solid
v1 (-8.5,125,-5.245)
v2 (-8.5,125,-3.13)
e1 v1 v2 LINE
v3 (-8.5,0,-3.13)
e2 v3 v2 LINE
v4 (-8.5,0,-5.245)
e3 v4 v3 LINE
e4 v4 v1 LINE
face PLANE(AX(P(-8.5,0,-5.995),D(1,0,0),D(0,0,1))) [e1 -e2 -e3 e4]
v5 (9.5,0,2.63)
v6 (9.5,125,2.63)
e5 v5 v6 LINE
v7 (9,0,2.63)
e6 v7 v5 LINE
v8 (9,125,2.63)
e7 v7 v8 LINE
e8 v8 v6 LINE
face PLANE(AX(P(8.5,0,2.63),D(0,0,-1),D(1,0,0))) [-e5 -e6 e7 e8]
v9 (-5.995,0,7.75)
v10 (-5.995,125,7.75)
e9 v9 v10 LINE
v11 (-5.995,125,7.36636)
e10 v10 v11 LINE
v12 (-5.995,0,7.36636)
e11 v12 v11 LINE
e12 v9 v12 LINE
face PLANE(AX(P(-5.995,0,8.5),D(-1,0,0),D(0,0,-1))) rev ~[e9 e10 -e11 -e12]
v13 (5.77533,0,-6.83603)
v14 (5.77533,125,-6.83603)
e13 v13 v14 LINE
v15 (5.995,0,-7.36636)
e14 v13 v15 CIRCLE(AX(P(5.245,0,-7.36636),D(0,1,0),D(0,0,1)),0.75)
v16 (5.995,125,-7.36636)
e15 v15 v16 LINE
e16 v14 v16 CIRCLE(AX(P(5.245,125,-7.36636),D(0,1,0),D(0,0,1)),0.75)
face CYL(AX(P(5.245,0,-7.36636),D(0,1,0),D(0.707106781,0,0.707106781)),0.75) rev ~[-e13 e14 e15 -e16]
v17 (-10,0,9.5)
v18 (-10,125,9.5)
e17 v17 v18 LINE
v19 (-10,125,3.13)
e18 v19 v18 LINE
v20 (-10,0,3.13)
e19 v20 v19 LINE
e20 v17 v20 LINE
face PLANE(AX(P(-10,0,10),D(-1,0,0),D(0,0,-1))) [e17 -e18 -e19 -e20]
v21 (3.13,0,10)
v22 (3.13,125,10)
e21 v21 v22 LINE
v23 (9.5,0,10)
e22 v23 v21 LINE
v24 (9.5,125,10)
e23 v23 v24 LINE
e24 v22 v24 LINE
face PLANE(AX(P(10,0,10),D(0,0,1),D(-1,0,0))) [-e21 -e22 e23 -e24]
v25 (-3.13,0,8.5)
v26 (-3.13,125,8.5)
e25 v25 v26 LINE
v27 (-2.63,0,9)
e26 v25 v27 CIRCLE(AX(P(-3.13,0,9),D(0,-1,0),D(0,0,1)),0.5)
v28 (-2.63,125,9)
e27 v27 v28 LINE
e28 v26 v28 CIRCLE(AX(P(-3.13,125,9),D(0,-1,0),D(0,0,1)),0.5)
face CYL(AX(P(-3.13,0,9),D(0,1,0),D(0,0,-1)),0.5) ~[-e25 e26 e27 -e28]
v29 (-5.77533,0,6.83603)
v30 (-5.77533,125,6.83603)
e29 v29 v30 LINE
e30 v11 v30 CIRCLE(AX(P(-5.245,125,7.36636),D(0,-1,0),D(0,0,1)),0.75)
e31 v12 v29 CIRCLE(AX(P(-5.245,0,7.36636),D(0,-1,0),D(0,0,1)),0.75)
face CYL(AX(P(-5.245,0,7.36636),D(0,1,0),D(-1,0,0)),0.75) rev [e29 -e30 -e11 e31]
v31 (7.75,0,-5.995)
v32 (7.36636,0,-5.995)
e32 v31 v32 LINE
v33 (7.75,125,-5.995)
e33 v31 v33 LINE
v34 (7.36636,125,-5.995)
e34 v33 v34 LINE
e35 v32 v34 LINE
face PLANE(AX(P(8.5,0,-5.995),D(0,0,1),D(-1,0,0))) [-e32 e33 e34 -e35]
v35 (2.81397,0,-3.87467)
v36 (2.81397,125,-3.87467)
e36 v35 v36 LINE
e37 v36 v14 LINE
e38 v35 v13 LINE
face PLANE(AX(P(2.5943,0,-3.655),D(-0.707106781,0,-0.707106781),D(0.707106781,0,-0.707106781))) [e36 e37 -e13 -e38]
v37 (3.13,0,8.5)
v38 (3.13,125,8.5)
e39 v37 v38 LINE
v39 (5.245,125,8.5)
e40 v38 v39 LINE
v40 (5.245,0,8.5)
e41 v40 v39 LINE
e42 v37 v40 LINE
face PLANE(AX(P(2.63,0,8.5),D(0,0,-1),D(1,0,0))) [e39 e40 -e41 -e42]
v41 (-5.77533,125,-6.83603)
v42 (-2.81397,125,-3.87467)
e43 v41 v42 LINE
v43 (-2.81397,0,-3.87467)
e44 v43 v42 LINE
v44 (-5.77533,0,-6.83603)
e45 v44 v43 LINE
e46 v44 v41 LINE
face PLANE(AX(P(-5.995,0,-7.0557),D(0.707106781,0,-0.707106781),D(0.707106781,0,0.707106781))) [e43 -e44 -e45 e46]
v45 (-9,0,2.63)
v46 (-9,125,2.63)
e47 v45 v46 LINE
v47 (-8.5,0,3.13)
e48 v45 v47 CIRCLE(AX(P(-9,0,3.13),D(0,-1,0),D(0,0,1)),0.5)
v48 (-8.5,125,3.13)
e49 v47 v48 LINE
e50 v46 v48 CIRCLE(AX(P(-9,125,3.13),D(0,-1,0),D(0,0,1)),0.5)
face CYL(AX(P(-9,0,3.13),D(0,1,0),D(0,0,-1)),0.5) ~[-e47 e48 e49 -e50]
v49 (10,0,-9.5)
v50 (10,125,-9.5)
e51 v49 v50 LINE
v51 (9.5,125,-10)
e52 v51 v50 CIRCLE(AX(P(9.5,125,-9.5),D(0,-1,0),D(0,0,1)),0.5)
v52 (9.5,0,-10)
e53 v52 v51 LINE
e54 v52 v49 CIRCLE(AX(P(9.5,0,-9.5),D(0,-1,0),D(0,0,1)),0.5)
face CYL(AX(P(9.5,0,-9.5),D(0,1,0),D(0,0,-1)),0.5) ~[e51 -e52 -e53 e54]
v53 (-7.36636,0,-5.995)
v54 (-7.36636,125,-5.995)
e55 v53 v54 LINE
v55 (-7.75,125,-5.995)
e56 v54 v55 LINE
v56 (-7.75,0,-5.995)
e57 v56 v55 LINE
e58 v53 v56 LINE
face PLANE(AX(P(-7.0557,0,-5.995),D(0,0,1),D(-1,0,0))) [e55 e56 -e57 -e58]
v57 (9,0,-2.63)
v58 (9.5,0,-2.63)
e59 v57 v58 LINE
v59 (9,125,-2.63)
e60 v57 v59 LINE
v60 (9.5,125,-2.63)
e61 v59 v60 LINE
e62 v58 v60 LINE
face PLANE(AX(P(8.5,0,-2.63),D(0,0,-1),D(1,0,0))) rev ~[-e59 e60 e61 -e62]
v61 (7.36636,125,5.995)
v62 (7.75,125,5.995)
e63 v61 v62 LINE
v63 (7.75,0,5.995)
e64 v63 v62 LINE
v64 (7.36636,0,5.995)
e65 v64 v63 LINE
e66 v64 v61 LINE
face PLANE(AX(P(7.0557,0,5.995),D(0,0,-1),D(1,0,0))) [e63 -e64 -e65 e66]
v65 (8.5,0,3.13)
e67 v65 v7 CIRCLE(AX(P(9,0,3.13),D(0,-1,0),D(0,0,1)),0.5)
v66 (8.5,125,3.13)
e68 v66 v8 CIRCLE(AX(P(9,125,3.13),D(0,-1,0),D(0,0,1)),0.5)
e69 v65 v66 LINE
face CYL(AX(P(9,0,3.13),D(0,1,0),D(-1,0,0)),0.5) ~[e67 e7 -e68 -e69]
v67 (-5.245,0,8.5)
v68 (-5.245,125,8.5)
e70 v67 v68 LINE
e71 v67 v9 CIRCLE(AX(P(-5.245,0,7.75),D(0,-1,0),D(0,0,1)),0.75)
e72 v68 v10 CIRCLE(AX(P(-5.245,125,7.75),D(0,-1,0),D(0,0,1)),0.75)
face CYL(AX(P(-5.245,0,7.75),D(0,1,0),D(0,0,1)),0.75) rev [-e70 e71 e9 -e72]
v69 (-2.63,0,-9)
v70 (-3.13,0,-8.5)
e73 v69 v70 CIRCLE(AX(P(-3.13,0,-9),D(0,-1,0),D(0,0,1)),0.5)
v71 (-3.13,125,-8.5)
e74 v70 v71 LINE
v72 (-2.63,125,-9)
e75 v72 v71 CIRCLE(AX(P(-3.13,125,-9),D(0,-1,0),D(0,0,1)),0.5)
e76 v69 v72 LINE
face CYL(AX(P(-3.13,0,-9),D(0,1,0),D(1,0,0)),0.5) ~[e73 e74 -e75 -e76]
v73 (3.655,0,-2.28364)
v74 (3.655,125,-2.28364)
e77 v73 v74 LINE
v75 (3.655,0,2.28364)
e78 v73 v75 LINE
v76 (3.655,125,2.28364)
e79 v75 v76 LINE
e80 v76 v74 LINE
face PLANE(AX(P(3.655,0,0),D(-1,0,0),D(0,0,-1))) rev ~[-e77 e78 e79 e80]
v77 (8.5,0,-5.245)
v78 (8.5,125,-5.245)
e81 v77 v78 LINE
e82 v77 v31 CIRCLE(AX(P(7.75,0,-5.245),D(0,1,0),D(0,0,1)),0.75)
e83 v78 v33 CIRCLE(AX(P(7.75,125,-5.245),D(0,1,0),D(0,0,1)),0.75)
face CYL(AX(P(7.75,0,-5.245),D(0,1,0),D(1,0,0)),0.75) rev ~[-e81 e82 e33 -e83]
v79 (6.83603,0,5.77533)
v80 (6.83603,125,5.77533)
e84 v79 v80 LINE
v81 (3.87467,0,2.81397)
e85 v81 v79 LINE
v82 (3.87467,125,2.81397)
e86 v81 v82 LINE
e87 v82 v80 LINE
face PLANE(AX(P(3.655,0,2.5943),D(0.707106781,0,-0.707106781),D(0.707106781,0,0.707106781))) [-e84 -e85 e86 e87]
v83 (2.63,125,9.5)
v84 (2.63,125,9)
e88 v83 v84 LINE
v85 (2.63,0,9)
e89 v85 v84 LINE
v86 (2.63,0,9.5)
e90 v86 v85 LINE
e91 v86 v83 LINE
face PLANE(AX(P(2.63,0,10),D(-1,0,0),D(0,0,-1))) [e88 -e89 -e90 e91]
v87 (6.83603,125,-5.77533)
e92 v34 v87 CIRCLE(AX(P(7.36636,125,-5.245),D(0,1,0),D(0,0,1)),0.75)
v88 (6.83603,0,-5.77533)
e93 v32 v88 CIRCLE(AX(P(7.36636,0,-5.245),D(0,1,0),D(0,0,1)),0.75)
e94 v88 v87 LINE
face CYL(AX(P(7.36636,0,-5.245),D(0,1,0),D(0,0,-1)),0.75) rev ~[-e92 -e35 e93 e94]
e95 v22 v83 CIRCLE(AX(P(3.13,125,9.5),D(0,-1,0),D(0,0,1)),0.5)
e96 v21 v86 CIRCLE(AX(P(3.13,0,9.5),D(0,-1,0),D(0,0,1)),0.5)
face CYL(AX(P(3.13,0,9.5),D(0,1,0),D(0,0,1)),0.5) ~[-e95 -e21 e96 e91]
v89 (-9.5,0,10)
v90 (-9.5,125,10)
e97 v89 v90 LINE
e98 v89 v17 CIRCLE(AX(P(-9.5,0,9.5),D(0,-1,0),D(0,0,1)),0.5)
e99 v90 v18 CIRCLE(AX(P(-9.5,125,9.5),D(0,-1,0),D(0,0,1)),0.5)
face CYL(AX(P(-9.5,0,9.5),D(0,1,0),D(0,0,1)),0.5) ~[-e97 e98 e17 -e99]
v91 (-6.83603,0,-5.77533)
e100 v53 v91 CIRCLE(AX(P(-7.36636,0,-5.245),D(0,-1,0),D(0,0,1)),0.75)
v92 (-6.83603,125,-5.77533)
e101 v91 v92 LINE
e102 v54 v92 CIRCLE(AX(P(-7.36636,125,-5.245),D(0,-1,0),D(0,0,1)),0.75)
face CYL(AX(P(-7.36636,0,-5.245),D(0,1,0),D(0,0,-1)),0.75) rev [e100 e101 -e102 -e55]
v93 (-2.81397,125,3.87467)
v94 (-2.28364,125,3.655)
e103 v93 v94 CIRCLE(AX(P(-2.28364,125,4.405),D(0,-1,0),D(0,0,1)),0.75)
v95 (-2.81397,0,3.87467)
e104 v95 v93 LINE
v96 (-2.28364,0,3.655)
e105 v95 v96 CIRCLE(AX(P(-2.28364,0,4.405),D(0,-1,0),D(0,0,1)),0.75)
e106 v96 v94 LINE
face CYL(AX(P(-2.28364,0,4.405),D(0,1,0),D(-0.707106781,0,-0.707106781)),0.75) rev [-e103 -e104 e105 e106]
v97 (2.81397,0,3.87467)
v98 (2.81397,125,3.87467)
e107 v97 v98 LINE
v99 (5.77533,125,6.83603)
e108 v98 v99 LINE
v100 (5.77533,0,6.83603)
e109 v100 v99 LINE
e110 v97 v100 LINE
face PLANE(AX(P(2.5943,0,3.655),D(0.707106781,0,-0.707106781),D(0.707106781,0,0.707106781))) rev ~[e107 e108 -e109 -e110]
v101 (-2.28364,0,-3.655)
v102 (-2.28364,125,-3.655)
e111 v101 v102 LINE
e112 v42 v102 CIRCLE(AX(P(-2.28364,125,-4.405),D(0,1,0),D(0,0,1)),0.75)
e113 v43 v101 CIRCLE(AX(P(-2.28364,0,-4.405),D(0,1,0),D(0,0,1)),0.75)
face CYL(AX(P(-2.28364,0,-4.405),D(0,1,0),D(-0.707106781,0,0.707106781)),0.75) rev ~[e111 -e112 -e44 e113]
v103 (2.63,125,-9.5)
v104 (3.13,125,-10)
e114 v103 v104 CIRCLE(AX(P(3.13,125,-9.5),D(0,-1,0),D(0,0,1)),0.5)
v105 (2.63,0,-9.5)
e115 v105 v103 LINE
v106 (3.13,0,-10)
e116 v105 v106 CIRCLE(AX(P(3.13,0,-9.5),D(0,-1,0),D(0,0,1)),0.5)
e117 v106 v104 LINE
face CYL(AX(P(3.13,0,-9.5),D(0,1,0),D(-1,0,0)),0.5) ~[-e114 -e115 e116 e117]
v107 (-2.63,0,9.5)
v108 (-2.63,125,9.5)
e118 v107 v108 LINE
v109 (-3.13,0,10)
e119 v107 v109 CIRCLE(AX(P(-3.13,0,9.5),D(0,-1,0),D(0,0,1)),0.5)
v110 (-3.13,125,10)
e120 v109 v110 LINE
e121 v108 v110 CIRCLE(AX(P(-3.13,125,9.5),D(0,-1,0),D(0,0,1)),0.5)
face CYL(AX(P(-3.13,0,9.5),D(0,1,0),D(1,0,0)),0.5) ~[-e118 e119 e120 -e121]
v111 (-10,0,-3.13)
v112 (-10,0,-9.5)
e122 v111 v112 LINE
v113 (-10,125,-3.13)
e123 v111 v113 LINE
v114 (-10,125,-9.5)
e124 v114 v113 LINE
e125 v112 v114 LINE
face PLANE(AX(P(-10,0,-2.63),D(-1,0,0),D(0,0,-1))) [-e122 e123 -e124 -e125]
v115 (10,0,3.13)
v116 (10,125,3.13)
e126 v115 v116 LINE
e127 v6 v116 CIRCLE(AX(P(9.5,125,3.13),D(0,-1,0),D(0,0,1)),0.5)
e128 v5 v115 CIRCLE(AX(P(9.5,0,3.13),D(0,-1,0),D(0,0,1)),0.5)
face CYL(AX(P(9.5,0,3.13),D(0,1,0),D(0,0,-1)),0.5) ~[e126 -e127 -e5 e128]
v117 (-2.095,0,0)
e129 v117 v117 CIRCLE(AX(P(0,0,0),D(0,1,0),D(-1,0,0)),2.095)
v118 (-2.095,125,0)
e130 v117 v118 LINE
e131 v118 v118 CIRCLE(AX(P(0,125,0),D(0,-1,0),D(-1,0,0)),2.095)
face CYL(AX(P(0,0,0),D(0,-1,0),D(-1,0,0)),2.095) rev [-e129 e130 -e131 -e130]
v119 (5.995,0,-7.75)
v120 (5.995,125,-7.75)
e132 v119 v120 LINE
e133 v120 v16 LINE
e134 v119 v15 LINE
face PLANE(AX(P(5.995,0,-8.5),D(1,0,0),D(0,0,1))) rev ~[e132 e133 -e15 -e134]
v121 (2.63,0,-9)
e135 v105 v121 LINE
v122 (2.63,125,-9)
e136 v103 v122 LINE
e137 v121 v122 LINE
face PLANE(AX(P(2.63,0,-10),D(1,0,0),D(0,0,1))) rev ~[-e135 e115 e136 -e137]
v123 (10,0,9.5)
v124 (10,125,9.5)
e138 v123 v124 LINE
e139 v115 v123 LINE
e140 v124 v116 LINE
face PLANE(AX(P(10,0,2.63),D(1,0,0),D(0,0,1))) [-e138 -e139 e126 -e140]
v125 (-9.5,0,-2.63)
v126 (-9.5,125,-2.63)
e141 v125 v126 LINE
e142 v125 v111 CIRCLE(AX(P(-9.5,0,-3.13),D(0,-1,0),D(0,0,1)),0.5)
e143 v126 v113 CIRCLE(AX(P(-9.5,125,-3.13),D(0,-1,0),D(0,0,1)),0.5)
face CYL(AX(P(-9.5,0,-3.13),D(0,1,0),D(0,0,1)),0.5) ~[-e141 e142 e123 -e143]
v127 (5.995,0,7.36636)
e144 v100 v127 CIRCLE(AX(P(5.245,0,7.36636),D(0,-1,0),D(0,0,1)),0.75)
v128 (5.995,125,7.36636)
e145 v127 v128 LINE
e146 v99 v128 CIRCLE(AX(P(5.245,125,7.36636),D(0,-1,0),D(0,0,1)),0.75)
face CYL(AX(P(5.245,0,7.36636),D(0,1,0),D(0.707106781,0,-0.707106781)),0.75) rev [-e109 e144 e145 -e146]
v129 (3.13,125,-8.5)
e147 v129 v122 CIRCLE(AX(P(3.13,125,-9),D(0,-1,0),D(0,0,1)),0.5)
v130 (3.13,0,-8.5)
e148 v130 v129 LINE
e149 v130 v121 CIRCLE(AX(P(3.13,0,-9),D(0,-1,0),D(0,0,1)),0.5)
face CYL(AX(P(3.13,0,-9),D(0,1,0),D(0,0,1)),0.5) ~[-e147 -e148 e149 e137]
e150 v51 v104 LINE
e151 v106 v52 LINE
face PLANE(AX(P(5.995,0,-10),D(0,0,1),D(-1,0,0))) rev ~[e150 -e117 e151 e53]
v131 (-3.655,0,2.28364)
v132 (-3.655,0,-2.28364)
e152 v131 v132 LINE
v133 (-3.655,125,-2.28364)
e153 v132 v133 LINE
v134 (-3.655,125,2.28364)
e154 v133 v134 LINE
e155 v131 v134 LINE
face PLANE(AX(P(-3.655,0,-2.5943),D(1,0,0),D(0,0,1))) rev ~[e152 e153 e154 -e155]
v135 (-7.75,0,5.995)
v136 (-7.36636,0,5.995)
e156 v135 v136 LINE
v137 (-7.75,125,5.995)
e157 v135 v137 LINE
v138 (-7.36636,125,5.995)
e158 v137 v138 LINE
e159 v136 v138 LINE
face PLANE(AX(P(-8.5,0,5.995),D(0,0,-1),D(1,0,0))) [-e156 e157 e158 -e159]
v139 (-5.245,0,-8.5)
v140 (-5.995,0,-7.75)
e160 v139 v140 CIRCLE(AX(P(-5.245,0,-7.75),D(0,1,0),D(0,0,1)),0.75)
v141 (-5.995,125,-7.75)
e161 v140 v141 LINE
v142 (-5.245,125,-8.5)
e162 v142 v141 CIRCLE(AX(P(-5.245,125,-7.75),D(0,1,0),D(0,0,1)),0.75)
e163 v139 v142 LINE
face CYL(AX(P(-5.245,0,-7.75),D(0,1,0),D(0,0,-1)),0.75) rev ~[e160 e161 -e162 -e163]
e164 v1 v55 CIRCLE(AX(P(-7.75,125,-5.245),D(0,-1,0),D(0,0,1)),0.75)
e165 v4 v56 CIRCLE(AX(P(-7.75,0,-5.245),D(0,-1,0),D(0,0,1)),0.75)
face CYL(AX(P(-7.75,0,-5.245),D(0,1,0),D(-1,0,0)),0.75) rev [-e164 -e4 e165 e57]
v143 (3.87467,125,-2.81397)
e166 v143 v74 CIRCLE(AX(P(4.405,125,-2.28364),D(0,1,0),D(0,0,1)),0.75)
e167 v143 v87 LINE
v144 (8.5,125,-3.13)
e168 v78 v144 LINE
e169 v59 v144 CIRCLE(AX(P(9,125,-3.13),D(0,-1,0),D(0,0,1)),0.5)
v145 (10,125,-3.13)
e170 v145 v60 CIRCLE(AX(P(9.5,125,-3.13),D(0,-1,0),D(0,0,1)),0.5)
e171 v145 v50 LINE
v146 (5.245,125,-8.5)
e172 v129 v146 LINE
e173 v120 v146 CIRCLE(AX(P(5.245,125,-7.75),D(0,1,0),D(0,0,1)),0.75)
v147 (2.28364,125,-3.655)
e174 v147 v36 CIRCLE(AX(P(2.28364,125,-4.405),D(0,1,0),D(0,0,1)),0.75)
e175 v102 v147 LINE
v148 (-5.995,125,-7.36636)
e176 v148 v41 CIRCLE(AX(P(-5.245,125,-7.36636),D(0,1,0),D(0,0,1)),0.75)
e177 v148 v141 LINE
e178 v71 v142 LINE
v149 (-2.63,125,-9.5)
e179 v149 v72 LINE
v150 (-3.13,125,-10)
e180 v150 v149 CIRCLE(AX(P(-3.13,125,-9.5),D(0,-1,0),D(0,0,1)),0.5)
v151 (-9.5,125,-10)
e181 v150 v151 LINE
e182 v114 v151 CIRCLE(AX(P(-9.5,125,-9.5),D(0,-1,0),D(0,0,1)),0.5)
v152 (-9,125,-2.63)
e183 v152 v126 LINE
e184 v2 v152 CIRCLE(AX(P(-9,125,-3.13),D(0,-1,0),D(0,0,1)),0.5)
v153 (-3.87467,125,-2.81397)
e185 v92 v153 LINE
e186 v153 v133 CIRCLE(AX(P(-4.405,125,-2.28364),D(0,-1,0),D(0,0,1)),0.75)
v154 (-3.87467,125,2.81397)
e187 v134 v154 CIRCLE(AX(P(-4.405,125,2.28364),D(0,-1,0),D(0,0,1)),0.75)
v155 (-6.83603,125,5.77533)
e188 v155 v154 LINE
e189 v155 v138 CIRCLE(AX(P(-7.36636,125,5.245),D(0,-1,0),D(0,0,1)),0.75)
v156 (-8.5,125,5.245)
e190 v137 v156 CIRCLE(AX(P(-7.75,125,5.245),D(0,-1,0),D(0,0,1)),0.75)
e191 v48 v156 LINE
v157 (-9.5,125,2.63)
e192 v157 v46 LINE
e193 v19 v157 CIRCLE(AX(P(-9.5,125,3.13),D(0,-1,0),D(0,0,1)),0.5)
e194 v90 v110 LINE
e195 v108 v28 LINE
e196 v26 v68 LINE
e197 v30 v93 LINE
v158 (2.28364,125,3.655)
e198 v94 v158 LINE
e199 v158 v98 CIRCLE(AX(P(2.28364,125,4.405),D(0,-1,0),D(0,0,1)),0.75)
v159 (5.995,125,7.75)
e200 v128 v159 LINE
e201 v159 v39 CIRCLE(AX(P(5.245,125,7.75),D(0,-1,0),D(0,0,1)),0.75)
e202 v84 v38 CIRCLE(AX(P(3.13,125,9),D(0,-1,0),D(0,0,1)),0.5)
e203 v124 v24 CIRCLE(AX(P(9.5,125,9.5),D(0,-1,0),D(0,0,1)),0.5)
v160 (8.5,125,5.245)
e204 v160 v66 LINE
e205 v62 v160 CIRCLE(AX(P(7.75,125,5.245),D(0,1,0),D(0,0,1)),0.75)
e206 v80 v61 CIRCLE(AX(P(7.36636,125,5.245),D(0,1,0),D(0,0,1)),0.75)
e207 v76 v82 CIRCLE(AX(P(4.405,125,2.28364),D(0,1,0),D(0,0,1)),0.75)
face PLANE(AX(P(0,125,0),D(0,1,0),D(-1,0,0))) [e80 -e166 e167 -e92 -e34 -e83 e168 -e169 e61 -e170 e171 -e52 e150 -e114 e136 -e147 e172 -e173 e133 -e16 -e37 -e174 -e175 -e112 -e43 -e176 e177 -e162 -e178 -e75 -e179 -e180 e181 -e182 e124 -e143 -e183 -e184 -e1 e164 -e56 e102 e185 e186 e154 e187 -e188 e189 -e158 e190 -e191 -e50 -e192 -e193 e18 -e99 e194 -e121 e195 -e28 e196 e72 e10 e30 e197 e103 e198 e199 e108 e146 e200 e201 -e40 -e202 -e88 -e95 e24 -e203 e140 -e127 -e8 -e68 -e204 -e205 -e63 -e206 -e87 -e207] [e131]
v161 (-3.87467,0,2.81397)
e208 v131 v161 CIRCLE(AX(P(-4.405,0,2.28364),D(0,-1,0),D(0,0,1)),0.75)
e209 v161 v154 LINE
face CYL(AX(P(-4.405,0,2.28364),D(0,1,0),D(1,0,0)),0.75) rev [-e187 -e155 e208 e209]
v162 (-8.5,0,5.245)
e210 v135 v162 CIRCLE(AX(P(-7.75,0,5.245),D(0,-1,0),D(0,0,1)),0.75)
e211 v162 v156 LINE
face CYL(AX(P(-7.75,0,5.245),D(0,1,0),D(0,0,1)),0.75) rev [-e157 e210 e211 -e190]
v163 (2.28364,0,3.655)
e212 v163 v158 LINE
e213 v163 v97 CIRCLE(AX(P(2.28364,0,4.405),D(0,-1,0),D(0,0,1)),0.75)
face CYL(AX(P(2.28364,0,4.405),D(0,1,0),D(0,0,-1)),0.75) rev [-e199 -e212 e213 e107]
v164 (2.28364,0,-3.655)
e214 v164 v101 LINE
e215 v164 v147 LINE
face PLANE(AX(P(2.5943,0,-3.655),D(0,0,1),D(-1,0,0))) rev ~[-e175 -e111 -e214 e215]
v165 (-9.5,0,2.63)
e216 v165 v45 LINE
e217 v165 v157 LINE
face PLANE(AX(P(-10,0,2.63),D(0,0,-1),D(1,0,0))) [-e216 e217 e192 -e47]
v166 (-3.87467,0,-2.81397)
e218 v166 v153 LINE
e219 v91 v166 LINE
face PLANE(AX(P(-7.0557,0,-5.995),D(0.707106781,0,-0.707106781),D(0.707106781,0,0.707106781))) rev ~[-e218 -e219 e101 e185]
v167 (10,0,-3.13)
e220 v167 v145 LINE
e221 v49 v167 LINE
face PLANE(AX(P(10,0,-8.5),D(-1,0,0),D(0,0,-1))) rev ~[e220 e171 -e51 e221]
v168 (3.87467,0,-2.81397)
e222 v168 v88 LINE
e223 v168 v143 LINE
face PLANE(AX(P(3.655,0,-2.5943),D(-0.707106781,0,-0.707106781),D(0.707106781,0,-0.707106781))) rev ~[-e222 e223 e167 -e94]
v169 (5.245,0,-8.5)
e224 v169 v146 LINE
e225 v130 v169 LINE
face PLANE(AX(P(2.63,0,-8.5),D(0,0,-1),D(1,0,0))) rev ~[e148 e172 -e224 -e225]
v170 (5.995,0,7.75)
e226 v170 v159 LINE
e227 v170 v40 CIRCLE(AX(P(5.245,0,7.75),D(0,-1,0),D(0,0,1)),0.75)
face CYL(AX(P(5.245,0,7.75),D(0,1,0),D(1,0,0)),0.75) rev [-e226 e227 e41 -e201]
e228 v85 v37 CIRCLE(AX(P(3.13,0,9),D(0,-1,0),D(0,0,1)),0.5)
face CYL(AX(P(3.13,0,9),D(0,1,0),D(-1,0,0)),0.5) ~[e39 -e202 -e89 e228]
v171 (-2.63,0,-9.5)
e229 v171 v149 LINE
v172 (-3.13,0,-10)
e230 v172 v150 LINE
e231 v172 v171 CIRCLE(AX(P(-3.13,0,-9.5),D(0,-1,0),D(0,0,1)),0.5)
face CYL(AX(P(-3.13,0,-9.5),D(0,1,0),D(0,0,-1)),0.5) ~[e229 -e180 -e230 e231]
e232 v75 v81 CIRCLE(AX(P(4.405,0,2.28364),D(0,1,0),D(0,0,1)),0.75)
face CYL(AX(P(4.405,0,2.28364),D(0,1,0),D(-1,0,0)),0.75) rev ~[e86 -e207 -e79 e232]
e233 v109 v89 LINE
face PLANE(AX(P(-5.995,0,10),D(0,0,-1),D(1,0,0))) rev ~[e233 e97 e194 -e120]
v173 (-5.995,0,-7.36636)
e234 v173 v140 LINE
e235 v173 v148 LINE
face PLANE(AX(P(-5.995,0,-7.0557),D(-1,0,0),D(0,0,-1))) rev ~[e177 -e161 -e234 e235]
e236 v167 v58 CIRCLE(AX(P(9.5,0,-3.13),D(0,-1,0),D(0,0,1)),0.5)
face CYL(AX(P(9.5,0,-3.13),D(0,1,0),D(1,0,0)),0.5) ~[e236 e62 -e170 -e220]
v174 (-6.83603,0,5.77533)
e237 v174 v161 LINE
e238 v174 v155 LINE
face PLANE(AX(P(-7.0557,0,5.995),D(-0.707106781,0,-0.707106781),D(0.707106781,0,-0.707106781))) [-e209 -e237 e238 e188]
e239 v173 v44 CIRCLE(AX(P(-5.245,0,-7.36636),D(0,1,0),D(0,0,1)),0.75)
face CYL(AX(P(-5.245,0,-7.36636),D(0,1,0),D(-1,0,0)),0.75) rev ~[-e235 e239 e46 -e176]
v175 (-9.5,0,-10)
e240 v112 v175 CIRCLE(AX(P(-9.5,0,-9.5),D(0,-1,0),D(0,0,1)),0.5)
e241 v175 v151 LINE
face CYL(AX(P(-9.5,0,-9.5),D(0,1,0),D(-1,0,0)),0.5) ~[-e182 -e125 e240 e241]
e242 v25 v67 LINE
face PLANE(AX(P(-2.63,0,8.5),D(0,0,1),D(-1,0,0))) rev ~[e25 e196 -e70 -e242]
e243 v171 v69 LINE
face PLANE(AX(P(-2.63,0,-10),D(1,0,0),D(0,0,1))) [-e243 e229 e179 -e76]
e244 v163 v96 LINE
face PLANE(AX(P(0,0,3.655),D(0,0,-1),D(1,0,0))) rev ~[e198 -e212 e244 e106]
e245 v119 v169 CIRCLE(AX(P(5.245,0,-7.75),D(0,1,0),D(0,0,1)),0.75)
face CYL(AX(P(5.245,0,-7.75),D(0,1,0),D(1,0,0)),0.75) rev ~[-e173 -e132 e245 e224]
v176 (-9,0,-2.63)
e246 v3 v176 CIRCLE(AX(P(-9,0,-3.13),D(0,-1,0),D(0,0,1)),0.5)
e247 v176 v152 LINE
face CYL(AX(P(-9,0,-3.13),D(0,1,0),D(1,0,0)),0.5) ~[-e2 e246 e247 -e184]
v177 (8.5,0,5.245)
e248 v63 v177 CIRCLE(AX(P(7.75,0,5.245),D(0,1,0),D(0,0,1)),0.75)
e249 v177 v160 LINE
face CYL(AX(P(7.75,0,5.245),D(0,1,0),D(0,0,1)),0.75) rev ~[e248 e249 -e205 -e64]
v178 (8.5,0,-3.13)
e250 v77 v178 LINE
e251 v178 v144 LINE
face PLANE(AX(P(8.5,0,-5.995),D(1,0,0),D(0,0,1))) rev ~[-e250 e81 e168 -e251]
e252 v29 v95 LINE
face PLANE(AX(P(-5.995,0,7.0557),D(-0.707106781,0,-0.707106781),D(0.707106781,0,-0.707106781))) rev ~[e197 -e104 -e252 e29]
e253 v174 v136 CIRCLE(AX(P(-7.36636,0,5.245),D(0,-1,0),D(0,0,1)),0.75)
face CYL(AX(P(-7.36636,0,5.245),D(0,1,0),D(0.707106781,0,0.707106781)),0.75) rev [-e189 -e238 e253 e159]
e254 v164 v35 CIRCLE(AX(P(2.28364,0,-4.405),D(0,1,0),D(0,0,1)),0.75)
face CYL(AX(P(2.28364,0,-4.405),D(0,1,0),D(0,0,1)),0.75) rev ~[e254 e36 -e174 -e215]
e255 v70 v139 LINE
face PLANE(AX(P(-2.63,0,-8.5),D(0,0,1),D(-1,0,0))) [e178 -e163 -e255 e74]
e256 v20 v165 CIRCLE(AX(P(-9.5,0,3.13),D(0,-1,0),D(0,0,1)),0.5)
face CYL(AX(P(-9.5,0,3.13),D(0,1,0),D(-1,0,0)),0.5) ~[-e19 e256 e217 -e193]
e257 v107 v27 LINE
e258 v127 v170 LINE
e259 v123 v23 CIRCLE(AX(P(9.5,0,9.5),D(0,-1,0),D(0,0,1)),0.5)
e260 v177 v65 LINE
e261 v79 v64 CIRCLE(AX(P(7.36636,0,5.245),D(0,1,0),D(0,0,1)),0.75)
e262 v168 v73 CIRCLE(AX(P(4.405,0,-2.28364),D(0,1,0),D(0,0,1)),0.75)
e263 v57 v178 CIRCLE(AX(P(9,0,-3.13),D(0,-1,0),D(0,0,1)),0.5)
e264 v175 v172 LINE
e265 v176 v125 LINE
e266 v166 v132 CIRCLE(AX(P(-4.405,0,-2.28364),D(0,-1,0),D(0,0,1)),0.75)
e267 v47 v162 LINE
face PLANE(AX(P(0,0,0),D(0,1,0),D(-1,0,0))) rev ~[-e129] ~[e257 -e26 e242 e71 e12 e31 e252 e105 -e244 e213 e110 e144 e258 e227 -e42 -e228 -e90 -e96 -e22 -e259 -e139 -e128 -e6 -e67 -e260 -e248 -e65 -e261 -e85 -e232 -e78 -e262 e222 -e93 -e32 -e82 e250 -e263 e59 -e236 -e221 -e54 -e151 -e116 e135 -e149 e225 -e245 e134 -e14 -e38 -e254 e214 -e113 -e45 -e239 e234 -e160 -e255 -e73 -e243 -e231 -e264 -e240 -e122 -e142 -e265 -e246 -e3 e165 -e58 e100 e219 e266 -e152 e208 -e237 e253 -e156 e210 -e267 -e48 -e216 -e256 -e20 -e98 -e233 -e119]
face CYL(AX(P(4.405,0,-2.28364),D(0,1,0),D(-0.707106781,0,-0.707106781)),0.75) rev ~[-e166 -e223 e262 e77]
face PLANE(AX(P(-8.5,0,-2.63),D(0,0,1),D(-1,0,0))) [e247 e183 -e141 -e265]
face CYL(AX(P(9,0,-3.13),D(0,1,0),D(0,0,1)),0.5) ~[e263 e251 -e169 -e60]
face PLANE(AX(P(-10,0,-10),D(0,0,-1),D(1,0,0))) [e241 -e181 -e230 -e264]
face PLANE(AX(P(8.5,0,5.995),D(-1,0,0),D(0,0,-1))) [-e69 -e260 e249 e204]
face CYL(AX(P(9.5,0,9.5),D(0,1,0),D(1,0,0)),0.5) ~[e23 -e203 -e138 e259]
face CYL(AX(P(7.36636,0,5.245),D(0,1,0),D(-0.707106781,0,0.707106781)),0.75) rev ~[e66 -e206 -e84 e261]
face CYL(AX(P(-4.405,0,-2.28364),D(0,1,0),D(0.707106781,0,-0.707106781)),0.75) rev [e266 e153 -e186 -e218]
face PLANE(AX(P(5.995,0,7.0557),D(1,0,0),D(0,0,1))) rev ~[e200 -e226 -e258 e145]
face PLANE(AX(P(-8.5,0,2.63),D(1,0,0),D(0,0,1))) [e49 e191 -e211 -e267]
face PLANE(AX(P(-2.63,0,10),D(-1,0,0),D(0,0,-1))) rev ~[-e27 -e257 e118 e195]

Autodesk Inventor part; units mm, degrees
ref_plane "YZ Plane" through (0, 0, 0) normal (1, 0, 0) x (0, 1, 0)
ref_plane "XZ Plane" through (0, 0, 0) normal (0, 1, 0) x (-1, 0, 0)
ref_plane "XY Plane" through (0, 0, 0) normal (0, 0, 1) x (1, 0, 0)
sketch "Sketch1" plane through (0, 0, 0) normal (0, 1, 0) x (-1, 0, 0)
  line L0 (0, -14) -> (0, 14) projected
  line L1 (-14, 0) -> (14, 0) projected
  line L2 (14, 0) -> (-14, 0) projected
  line L3 (0, -14) -> (0, 14) projected
  line L4 (2.5943, 3.655) -> (-2.5943, 3.655)
  line L5 (-3.655, 2.5943) -> (-3.655, -2.5943)
  line L6 (-2.5943, -3.655) -> (2.5943, -3.655)
  line L7 (3.655, -2.5943) -> (3.655, 2.5943)
  line L8 (-3.655, 3.655) -> (3.655, -3.655) construction
  line L9 (10, 10) -> (10, 2.63)
  line L10 (10, 2.63) -> (8.5, 2.63)
  line L11 (10, 10) -> (2.63, 10)
  line L12 (2.63, 10) -> (2.63, 8.5)
  line L13 (-10, 10) -> (-2.63, 10)
  line L14 (-2.63, 10) -> (-2.63, 8.5)
  line L15 (-10, 8.5) -> (-10, 10)
  line L16 (-10, 10) -> (-8.5, 10)
  line L17 (-8.5, 2.63) -> (-10, 2.63)
  line L18 (-10, 2.63) -> (-10, 10)
  line L19 (-10, -10) -> (-8.5, -10)
  line L20 (-8.5, -2.63) -> (-10, -2.63)
  line L21 (-10, -2.63) -> (-10, -10)
  line L22 (-10, -10) -> (-2.63, -10)
  line L23 (-2.63, -10) -> (-2.63, -8.5)
  line L24 (-10, -8.5) -> (-10, -10)
  line L25 (10, -10) -> (8.5, -10)
  line L26 (8.5, -2.63) -> (10, -2.63)
  line L27 (10, -2.63) -> (10, -10)
  line L28 (10, -10) -> (2.63, -10)
  line L29 (2.63, -10) -> (2.63, -8.5)
  line L30 (10, -8.5) -> (10, -10)
  circle A0 centre (0, 0) radius 2.095
  line L31 (5.995, -10) -> (2.63, -10)
  line L32 (-2.63, -10) -> (-5.995, -10)
  line L33 (10, -10) -> (2.63, -10)
  line L34 (-2.63, -10) -> (-10, -10)
  line L35 (10, -5.995) -> (10, -2.63)
  line L36 (10, 2.63) -> (10, 5.995)
  line L37 (10, 10) -> (10, 2.63)
  line L38 (10, -2.63) -> (10, -10)
  line L39 (-5.995, 10) -> (-2.63, 10)
  line L40 (2.63, 10) -> (5.995, 10)
  line L41 (-10, 10) -> (-2.63, 10)
  line L42 (2.63, 10) -> (10, 10)
  line L43 (-10, 5.995) -> (-10, 2.63)
  line L44 (-10, -2.63) -> (-10, -5.995)
  line L45 (-10, -10) -> (-10, -2.63)
  line L46 (-10, 2.63) -> (-10, 10)
  line L47 (-2.63, -8.5) -> (-5.995, -8.5)
  line L48 (-8.5, -5.995) -> (-8.5, -2.63)
  line L49 (-8.5, -5.995) -> (-7.0557, -5.995)
  line L50 (-5.995, -8.5) -> (-5.995, -7.0557)
  line L51 (-5.995, 7.0557) -> (-5.995, 8.5)
  line L52 (2.63, 8.5) -> (5.995, 8.5)
  line L53 (8.5, 2.63) -> (8.5, 5.995)
  line L54 (8.5, 5.995) -> (7.0557, 5.995)
  line L55 (5.995, 8.5) -> (5.995, 7.0557)
  line L56 (2.63, -8.5) -> (5.995, -8.5)
  line L57 (9.5607, -8.5) -> (10, -8.5)
  line L58 (8.5, -10) -> (8.5, -9.5607)
  line L59 (8.5, -5.995) -> (8.5, -2.63)
  line L60 (7.0557, -5.995) -> (8.5, -5.995)
  line L61 (5.995, -7.0557) -> (5.995, -8.5)
  line L62 (3.655, 3.655) -> (-0.5303, -0.5303) construction
  line L63 (-1.4814, -1.4814) -> (-3.655, -3.655) construction
  line L64 (-8.5, 10) -> (-8.5, 9.5607)
  line L65 (-8.5, 5.995) -> (-8.5, 2.63)
  line L66 (-2.63, 8.5) -> (-5.995, 8.5)
  line L67 (-9.5607, 8.5) -> (-10, 8.5)
  line L68 (-7.0557, 5.995) -> (-8.5, 5.995)
  line L69 (-3.655, 2.5943) -> (-7.0557, 5.995)
  line L70 (-2.5943, 3.655) -> (-5.995, 7.0557)
  line L71 (5.995, 7.0557) -> (2.5943, 3.655)
  line L72 (7.0557, 5.995) -> (3.655, 2.5943)
  line L73 (7.0557, -5.995) -> (3.655, -2.5943)
  line L74 (5.995, -7.0557) -> (2.5943, -3.655)
  line L75 (-2.5943, -3.655) -> (-5.995, -7.0557)
  line L76 (-3.655, -2.5943) -> (-7.0557, -5.995)
  dimension "d26" = 4.19
  dimension "d0" = 20
  dimension "d1" = 20
  dimension "d2" = 7.31
  dimension "d3" = 7.31
  dimension "d4" = 20
  dimension "d5" = 11.99
  dimension "d6" = 11.99
  dimension "d11" = 7.37
  dimension "d12" = 1.5
  dimension "d13" = 7.37
  dimension "d14" = 1.5
  dimension "d15" = 7.37
  dimension "d16" = 1.5
  dimension "d17" = 7.37
  dimension "d18" = 1.5
  dimension "d19" = 7.37
  dimension "d20" = 7.37
  dimension "d21" = 1.5
  dimension "d22" = 1.5
  dimension "d23" = 7.37
  dimension "d24" = 7.37
  dimension "d25" = 1.5
extrude "Extrusion1" add sketch "Sketch1" along normal blind 125 contours L6 L75 L50 L47 L23 L22 L19 L21 L20 L48 L49 L76 L5 L1 A0 L0 | L0 A0 L1 L7 L73 L60 L59 L26 L27 L25 L28 L29 L56 L61 L74 L6 | L1 L5 L69 L68 L65 L17 L18 L15 L13 L14 L66 L51 L70 L4 L0 A0 | A0 L0 L4 L71 L55 L52 L12 L11 L9 L10 L53 L54 L72 L7 L1
fillet "Fillet1" radius 0.5 20 edges at (10, 62.5, 10) (2.63, 62.5, 10) (-2.63, 62.5, 10) (-2.63, 62.5, 8.5) (10, 62.5, 2.63) (8.5, 62.5, 2.63) (10, 62.5, -2.63) (8.5, 62.5, -2.63) (10, 62.5, -10) (2.63, 62.5, -8.5) (-2.63, 62.5, -10) (-2.63, 62.5, -8.5) (2.63, 62.5, -10) (-10, 62.5, -10) (-8.5, 62.5, -2.63) (-10, 62.5, -2.63) (-8.5, 62.5, 2.63) (-10, 62.5, 2.63) (-10, 62.5, 10) (2.63, 62.5, 8.5)
fillet "Fillet2" radius 0.75 24 edges at (-7.0557, 62.5, 5.995) (-3.655, 62.5, 2.5943) (-8.5, 62.5, -5.995) (-7.0557, 62.5, -5.995) (-5.995, 62.5, -8.5) (3.655, 62.5, -2.5943) (7.0557, 62.5, -5.995) (-2.5943, 62.5, 3.655) (-5.995, 62.5, 7.0557) (3.655, 62.5, 2.5943) (7.0557, 62.5, 5.995) (8.5, 62.5, 5.995) (8.5, 62.5, -5.995) (2.5943, 62.5, 3.655) (5.995, 62.5, 7.0557) (5.995, 62.5, 8.5) (-5.995, 62.5, 8.5) (-8.5, 62.5, 5.995) (2.5943, 62.5, -3.655) (5.995, 62.5, -7.0557) (5.995, 62.5, -8.5) (-5.995, 62.5, -7.0557) (-2.5943, 62.5, -3.655) (-3.655, 62.5, -2.5943)
properties part number "pro125mm"
